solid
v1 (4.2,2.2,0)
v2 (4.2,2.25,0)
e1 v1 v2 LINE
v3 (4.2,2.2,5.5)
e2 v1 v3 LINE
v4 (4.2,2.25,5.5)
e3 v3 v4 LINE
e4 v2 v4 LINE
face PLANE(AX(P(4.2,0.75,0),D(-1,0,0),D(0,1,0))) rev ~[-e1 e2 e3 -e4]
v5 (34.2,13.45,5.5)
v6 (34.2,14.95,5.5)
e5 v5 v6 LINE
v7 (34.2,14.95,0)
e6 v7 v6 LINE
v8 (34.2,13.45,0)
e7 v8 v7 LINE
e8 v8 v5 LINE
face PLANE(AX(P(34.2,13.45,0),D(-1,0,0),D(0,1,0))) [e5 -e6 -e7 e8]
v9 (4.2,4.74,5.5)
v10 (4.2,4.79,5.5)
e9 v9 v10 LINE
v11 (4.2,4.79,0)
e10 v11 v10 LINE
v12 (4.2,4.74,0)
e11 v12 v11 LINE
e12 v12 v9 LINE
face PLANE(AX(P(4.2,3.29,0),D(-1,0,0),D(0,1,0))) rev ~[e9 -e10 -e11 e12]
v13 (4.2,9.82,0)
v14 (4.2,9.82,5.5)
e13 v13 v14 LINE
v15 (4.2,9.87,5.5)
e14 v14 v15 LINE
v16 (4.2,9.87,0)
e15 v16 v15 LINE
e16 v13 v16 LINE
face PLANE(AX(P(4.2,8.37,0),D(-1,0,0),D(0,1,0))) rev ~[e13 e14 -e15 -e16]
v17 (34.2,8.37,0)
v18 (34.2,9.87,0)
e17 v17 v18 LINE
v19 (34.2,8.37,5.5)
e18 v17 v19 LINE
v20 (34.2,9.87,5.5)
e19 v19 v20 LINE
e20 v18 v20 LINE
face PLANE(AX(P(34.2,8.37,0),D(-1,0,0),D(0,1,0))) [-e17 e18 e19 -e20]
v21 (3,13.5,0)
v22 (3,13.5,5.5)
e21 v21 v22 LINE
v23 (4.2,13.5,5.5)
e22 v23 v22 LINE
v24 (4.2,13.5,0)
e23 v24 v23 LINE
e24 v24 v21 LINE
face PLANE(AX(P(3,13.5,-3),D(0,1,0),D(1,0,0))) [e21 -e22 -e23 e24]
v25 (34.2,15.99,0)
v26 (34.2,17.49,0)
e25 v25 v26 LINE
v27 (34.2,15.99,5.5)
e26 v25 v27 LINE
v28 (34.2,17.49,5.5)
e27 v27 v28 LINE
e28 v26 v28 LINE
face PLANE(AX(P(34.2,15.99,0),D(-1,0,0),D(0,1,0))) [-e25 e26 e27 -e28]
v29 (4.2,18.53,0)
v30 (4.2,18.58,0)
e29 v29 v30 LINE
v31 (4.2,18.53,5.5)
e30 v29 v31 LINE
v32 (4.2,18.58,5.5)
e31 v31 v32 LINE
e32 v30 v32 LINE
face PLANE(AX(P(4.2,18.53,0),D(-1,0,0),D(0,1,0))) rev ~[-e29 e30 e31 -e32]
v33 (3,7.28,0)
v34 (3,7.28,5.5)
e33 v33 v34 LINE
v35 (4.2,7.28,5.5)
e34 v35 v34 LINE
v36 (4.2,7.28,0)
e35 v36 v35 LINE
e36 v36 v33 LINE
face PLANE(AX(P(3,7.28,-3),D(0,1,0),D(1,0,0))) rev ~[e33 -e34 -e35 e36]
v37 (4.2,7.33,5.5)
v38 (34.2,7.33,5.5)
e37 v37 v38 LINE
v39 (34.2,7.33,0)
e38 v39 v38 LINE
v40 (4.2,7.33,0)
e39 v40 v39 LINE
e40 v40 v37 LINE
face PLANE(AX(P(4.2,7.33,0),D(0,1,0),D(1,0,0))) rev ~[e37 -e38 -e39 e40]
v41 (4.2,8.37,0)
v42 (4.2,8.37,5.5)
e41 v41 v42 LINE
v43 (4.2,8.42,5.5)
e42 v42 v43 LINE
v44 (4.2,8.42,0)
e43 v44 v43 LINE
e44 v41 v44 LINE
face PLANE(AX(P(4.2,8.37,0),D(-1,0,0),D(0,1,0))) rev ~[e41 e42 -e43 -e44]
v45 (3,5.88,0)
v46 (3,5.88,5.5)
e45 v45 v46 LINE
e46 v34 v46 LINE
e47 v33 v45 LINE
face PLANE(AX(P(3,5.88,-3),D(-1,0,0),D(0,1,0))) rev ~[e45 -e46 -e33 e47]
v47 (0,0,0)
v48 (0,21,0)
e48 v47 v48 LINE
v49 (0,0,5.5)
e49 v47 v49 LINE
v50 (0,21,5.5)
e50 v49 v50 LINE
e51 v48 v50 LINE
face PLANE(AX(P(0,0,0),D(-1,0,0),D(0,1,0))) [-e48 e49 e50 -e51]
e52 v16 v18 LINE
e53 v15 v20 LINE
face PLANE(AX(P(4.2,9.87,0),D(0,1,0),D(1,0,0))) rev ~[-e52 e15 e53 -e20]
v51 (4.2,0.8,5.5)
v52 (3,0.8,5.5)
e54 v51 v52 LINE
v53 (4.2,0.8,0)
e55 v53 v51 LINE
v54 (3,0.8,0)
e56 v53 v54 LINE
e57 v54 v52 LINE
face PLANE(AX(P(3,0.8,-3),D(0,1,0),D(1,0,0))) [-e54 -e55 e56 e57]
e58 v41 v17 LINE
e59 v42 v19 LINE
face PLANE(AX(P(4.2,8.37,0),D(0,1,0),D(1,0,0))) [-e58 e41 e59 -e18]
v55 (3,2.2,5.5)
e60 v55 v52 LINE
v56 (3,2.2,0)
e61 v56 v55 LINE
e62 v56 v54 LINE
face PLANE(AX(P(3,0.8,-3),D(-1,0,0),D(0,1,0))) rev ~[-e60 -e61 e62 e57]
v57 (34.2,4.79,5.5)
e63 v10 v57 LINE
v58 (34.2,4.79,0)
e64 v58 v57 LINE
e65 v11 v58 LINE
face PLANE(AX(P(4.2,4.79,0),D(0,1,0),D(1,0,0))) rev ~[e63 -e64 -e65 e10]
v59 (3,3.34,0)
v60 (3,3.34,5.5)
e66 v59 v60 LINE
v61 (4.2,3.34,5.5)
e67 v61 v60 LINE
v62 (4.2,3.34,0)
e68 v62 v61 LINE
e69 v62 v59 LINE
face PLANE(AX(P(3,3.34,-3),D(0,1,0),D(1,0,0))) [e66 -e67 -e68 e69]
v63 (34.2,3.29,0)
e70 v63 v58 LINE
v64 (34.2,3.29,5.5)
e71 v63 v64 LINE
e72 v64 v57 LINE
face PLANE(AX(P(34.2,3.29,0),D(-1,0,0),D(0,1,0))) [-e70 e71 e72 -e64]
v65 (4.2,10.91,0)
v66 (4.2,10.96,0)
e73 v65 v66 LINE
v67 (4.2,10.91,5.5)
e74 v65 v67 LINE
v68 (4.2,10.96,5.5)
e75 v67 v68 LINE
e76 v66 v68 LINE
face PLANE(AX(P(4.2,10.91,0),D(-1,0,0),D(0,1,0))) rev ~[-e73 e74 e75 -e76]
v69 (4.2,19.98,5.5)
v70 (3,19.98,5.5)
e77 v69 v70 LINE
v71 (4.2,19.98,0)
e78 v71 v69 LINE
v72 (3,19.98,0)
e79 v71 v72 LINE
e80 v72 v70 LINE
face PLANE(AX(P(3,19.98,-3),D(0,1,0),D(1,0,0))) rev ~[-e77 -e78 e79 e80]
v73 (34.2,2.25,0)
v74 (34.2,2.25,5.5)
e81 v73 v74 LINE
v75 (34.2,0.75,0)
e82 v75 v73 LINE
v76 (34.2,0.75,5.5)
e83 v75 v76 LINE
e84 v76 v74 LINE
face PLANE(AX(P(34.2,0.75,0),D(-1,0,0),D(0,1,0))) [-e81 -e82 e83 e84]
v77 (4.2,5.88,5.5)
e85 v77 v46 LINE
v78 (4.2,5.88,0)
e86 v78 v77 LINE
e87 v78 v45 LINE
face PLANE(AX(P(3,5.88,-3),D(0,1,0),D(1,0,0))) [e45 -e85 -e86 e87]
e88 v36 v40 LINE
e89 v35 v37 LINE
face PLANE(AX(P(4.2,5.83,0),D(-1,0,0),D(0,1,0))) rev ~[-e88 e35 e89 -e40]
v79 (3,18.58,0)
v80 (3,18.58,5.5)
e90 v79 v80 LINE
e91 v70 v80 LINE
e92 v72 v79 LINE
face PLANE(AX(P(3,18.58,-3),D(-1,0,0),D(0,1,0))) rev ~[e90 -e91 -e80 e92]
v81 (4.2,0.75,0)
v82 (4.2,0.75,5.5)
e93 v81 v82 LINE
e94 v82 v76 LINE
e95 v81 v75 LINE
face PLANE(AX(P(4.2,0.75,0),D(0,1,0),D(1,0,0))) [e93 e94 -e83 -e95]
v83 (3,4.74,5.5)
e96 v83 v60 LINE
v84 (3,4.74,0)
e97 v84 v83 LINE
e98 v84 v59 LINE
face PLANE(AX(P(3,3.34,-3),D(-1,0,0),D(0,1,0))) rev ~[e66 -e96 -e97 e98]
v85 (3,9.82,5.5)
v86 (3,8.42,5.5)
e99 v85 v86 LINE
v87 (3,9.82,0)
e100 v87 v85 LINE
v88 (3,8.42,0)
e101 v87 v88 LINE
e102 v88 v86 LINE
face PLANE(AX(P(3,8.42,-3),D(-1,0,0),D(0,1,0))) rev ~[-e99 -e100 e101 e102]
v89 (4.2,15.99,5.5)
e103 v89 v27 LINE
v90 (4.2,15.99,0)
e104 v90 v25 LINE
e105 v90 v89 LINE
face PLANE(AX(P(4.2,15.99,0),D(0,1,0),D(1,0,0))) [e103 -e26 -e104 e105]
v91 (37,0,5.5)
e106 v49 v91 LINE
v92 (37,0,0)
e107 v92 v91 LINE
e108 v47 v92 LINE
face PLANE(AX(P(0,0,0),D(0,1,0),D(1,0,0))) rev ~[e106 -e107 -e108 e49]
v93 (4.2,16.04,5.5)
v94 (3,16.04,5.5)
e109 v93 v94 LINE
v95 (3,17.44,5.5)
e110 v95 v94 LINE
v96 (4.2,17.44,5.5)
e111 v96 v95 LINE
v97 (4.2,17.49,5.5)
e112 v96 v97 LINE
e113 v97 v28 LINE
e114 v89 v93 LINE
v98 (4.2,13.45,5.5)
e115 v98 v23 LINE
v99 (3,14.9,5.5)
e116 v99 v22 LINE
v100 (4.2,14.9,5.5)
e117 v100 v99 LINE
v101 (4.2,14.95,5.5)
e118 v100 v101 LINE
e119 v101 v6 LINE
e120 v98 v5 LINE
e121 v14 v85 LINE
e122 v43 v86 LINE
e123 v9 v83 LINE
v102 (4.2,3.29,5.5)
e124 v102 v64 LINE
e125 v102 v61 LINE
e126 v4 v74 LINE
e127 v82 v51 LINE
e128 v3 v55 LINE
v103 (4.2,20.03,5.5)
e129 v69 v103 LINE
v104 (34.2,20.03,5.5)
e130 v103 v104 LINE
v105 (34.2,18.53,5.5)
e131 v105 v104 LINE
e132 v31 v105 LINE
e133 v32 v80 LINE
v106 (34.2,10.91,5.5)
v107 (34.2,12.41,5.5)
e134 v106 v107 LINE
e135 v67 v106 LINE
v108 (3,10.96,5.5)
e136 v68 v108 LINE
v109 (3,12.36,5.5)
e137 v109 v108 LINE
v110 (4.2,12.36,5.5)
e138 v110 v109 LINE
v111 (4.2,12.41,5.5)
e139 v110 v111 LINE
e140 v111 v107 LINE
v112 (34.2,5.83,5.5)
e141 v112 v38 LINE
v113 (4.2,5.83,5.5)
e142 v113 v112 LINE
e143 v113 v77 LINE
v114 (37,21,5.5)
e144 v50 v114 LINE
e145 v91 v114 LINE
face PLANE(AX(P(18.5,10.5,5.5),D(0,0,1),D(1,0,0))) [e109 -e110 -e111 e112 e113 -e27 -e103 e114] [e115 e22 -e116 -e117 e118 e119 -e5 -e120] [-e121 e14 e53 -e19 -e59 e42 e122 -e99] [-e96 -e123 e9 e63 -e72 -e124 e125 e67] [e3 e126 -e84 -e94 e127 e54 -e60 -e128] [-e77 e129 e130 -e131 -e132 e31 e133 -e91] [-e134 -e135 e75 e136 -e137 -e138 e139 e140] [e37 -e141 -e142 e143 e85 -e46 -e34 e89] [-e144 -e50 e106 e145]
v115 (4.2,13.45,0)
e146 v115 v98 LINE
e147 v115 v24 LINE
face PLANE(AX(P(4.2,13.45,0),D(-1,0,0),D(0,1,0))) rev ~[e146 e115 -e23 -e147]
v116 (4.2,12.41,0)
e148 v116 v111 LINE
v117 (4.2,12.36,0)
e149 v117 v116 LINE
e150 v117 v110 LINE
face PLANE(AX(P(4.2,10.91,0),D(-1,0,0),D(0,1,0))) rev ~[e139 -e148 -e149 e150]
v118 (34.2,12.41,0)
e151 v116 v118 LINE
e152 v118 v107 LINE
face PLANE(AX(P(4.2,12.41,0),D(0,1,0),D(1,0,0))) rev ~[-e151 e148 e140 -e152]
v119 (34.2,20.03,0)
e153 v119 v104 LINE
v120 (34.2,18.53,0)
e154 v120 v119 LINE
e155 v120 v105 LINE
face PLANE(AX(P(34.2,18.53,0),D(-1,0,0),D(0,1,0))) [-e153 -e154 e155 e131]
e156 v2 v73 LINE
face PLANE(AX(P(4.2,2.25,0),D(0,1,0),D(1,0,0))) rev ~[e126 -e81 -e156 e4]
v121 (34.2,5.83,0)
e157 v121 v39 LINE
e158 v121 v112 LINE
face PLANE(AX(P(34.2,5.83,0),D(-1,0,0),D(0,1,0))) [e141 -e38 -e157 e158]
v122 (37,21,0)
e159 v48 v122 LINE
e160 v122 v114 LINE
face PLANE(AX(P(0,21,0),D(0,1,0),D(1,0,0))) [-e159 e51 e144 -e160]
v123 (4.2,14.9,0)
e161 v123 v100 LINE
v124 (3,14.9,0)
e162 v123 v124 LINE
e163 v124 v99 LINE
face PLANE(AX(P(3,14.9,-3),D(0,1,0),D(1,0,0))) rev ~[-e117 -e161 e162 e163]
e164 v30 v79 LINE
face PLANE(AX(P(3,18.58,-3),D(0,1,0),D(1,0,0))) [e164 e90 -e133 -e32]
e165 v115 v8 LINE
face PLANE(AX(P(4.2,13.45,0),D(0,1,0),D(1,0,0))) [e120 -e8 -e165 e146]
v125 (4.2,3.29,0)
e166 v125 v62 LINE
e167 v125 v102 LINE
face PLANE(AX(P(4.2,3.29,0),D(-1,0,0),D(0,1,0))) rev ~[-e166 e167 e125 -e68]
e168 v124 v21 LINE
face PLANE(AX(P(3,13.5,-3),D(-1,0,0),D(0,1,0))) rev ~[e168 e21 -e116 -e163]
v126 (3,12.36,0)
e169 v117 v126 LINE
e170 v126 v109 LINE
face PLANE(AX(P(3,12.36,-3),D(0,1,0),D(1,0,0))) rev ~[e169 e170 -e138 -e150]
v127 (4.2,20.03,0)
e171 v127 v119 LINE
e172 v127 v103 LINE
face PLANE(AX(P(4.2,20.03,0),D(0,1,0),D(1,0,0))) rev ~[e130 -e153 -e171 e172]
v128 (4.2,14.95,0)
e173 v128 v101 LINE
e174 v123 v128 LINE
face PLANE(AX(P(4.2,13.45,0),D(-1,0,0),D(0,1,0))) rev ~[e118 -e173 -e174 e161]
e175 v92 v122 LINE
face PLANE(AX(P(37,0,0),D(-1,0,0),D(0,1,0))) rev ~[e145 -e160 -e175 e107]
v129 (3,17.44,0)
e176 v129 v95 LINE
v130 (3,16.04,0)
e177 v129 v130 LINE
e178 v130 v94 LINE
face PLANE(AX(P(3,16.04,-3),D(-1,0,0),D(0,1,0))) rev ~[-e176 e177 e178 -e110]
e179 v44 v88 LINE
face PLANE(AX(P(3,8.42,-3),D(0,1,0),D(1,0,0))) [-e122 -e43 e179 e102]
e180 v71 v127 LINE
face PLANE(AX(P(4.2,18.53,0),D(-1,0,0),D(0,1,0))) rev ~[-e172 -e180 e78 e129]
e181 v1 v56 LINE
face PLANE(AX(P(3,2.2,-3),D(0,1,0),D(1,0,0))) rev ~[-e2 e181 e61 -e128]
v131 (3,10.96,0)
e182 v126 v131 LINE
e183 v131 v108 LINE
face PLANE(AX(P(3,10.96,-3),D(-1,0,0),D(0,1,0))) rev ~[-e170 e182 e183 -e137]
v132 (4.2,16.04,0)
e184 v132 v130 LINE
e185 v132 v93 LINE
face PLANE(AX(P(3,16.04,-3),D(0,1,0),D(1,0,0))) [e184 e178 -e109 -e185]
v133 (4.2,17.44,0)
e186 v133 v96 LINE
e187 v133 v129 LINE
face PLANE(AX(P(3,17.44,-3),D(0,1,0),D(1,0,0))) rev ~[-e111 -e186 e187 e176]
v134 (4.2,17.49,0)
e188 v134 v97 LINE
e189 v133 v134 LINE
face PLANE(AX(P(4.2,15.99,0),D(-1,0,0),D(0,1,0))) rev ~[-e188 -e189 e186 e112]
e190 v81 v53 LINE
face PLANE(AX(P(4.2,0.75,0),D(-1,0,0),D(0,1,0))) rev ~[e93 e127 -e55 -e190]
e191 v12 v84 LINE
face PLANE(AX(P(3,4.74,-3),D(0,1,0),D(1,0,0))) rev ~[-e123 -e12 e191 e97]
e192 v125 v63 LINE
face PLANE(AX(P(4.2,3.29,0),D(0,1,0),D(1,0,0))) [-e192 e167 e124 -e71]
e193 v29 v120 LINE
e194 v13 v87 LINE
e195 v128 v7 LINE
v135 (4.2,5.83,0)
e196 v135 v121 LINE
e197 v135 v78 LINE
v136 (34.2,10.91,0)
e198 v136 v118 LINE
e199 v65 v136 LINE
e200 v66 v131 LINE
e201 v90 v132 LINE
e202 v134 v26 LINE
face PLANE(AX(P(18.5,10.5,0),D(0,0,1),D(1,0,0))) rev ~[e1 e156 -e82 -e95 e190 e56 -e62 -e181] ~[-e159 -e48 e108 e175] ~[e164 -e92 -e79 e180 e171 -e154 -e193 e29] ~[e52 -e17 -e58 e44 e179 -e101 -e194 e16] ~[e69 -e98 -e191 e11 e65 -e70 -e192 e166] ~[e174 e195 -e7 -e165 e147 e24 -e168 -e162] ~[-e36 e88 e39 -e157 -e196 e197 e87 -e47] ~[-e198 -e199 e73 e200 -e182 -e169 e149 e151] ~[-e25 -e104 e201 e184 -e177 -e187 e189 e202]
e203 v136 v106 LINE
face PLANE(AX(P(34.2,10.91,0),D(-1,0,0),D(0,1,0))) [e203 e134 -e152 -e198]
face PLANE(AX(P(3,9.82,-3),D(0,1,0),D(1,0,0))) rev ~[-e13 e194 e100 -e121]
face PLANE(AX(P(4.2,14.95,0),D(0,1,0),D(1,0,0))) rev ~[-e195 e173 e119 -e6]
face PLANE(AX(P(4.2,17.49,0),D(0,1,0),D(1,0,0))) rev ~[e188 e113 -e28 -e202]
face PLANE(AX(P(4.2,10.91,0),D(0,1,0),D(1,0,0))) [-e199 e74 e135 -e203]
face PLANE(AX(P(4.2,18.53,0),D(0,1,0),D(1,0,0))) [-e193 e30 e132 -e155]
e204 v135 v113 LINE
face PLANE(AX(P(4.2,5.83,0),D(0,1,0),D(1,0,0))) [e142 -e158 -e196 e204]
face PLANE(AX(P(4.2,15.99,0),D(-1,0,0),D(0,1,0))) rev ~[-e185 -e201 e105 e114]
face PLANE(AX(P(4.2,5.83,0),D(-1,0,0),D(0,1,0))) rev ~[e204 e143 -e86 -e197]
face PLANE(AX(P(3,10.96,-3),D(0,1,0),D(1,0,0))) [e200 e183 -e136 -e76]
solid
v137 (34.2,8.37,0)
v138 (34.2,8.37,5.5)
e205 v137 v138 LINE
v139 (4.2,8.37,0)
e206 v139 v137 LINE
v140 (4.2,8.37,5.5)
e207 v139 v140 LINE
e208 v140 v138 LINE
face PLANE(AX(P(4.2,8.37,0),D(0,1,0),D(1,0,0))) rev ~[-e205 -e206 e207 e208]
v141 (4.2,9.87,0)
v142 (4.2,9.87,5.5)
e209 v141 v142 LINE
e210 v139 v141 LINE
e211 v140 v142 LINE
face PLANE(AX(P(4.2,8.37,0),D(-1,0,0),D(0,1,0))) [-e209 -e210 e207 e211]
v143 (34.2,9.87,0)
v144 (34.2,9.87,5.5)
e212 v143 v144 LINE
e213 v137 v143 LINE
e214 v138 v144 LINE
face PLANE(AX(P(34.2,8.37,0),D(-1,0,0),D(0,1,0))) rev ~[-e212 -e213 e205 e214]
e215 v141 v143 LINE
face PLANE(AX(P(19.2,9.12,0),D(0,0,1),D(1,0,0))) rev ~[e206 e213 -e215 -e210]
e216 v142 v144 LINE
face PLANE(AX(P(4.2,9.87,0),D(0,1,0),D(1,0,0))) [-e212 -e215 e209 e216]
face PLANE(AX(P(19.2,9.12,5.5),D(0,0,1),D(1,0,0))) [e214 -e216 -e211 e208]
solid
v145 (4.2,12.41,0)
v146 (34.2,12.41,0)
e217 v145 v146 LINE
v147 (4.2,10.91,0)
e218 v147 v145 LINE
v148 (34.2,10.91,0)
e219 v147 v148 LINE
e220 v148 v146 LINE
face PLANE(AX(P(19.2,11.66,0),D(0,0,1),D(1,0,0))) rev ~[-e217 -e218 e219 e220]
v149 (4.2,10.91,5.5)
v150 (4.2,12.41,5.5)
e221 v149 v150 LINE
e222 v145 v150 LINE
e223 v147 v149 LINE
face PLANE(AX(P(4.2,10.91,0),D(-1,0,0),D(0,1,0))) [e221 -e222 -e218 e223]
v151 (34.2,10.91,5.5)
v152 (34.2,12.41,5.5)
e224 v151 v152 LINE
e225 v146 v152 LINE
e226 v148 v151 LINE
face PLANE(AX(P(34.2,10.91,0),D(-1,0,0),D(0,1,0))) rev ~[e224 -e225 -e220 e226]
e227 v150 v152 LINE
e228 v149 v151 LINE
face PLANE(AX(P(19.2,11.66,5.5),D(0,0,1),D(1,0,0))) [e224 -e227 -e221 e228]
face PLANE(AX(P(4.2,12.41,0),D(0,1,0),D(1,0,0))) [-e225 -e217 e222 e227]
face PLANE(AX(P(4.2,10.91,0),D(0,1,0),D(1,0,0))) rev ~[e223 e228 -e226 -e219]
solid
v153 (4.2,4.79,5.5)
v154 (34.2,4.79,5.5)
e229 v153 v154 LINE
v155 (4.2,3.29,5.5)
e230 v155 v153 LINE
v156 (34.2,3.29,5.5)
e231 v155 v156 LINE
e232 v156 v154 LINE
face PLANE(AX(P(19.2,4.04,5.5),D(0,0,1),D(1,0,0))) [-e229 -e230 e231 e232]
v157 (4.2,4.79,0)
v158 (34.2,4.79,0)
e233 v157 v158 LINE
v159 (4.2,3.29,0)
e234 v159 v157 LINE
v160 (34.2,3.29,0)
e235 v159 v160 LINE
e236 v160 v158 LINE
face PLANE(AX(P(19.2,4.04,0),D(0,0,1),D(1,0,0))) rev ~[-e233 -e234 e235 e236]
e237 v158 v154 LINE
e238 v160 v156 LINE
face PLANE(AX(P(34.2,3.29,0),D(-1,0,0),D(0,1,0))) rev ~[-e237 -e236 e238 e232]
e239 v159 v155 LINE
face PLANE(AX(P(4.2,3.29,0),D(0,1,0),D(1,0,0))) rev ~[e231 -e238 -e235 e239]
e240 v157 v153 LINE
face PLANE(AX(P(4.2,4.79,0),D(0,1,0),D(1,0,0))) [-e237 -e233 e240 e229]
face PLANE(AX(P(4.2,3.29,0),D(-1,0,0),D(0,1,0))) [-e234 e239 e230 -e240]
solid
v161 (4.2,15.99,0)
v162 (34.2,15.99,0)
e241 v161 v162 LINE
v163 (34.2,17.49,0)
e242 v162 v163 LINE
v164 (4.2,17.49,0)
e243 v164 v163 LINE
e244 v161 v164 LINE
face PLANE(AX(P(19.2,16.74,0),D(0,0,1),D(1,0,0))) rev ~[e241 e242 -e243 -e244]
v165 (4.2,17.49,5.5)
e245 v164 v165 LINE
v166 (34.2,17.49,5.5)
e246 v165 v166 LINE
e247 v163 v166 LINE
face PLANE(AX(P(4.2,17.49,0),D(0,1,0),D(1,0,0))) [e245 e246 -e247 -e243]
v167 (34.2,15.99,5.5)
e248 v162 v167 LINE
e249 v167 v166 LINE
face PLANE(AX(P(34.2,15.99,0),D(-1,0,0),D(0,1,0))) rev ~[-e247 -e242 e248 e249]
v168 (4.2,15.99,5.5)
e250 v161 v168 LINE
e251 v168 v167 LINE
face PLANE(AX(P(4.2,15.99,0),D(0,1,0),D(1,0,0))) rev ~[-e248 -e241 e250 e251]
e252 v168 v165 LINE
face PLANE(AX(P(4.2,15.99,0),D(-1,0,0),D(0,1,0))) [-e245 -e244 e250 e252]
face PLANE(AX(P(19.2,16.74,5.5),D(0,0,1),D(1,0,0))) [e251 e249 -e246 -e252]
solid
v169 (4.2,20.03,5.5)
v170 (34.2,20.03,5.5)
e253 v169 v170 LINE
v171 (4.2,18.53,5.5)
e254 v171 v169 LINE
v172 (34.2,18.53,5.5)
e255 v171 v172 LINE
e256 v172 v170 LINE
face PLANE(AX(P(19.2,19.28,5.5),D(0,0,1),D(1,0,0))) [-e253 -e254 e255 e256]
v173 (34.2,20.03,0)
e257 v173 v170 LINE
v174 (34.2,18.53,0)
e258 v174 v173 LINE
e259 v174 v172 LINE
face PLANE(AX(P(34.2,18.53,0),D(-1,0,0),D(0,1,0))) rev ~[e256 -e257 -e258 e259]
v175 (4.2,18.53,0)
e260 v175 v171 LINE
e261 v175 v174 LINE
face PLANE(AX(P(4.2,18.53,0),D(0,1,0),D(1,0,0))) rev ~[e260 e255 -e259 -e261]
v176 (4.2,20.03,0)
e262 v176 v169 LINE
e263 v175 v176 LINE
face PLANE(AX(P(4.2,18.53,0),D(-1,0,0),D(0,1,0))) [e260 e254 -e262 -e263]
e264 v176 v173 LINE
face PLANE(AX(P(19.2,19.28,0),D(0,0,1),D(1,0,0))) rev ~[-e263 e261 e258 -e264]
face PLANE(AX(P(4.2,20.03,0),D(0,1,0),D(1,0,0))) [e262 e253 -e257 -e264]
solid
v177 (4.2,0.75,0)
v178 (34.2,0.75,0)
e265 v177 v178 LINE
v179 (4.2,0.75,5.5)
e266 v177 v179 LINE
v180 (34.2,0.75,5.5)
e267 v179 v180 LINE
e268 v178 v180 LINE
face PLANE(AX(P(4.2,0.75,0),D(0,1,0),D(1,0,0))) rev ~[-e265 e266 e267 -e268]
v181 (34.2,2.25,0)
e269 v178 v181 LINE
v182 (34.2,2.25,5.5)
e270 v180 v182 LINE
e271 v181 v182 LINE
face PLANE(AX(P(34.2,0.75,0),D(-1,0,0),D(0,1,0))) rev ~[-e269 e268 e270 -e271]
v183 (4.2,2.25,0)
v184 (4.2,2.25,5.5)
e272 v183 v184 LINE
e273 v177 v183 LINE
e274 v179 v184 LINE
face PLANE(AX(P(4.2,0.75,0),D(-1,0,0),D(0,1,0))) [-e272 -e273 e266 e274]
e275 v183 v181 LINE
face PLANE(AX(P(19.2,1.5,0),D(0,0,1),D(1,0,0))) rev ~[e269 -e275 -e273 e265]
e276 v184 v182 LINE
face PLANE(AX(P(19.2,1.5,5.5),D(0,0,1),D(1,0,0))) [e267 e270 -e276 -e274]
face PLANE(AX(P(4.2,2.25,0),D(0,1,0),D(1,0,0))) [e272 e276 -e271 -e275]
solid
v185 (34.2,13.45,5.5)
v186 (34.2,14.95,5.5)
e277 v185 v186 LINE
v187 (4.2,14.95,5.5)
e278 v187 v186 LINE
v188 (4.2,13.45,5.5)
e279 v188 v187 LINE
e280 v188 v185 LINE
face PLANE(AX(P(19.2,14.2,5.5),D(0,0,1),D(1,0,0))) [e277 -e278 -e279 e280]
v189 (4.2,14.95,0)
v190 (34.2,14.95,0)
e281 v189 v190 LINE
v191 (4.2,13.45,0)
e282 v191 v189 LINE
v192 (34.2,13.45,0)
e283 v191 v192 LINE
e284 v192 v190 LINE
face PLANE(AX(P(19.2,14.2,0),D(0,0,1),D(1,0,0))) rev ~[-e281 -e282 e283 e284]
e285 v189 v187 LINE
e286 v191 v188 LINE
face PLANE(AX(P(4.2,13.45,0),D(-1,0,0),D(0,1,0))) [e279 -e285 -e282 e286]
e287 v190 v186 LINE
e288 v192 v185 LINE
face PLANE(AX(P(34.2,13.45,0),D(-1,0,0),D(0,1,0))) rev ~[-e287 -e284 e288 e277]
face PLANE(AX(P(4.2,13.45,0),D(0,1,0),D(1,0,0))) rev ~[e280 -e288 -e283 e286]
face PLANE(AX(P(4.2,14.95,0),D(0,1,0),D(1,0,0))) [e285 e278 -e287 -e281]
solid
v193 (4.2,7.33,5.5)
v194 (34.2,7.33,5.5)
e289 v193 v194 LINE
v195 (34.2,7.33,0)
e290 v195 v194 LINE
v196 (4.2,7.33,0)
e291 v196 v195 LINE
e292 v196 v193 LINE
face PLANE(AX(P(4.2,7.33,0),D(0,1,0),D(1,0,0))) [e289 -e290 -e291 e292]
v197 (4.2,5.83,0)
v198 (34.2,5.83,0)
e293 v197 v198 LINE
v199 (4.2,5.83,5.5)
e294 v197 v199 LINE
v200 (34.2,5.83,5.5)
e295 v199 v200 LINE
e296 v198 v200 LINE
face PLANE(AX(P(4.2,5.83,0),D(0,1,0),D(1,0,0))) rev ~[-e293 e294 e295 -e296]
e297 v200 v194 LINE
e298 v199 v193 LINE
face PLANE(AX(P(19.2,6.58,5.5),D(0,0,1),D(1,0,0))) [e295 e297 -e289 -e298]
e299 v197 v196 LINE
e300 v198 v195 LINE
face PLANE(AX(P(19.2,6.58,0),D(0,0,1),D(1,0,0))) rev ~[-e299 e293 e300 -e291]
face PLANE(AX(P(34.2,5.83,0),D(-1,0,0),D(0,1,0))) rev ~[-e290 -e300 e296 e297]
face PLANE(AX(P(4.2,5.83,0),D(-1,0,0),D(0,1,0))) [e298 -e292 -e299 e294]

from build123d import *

# Parameters (mm, degrees)
BOX010_W     = 30
BOX010_H     = 1.5
BOX010_DEPTH = 5.5
BOX011_W     = 30
BOX011_H     = 1.5
BOX011_DEPTH = 5.5
BOX012_W     = 30
BOX012_H     = 1.5
BOX012_DEPTH = 5.5
BOX013_W     = 30
BOX013_H     = 1.5
BOX013_DEPTH = 5.5
BOX014_W     = 30
BOX014_H     = 1.5
BOX014_DEPTH = 5.5
BOX015_W     = 30
BOX015_H     = 1.5
BOX015_DEPTH = 5.5
BOX016_W     = 30
BOX016_H     = 1.5
BOX016_DEPTH = 5.5
BOX009_W     = 30
BOX009_H     = 1.5
BOX009_DEPTH = 5.5
BOX018_W     = 30
BOX018_H     = 1.5
BOX018_DEPTH = 5.5
BOX019_W     = 30
BOX019_H     = 1.5
BOX019_DEPTH = 5.5
BOX020_W     = 30
BOX020_H     = 1.5
BOX020_DEPTH = 5.5
BOX021_W     = 30
BOX021_H     = 1.5
BOX021_DEPTH = 5.5
BOX022_W     = 30
BOX022_H     = 1.5
BOX022_DEPTH = 5.5
BOX023_W     = 30
BOX023_H     = 1.5
BOX023_DEPTH = 5.5
BOX024_W     = 30
BOX024_H     = 1.5
BOX024_DEPTH = 5.5
BOX017_W     = 30
BOX017_H     = 1.5
BOX017_DEPTH = 5.5
BOX002_W     = 1.6
BOX002_H     = 1.4
BOX002_DEPTH = 10
BOX003_W     = 1.6
BOX003_H     = 1.4
BOX003_DEPTH = 10
BOX004_W     = 1.6
BOX004_H     = 1.4
BOX004_DEPTH = 10
BOX005_W     = 1.6
BOX005_H     = 1.4
BOX005_DEPTH = 10
BOX006_W     = 1.6
BOX006_H     = 1.4
BOX006_DEPTH = 10
BOX007_W     = 1.6
BOX007_H     = 1.4
BOX007_DEPTH = 10
BOX008_W     = 1.6
BOX008_H     = 1.4
BOX008_DEPTH = 10
BOX001_W     = 1.6
BOX001_H     = 1.4
BOX001_DEPTH = 10
BOX_W        = 37
BOX_H        = 21
BOX_DEPTH    = 5.5


with BuildPart() as cube010:
    # Box010 → Box010 (new body)
    with BuildSketch(Plane(origin=(4.2, 3.29, 0), x_dir=(1, 0, 0), z_dir=(0, 0, 1))):
        with Locations((15, 0.75)):
            Rectangle(BOX010_W, BOX010_H)
    extrude(amount=BOX010_DEPTH)


with BuildPart() as cube011:
    # Box011 → Box011 (new body)
    with BuildSketch(Plane(origin=(4.2, 5.83, 0), x_dir=(1, 0, 0), z_dir=(0, 0, 1))):
        with Locations((15, 0.75)):
            Rectangle(BOX011_W, BOX011_H)
    extrude(amount=BOX011_DEPTH)


with BuildPart() as cube012:
    # Box012 → Box012 (new body)
    with BuildSketch(Plane(origin=(4.2, 8.37, 0), x_dir=(1, 0, 0), z_dir=(0, 0, 1))):
        with Locations((15, 0.75)):
            Rectangle(BOX012_W, BOX012_H)
    extrude(amount=BOX012_DEPTH)


with BuildPart() as cube013:
    # Box013 → Box013 (new body)
    with BuildSketch(Plane(origin=(4.2, 10.91, 0), x_dir=(1, 0, 0), z_dir=(0, 0, 1))):
        with Locations((15, 0.75)):
            Rectangle(BOX013_W, BOX013_H)
    extrude(amount=BOX013_DEPTH)


with BuildPart() as cube014:
    # Box014 → Box014 (new body)
    with BuildSketch(Plane(origin=(4.2, 13.45, 0), x_dir=(1, 0, 0), z_dir=(0, 0, 1))):
        with Locations((15, 0.75)):
            Rectangle(BOX014_W, BOX014_H)
    extrude(amount=BOX014_DEPTH)


with BuildPart() as cube015:
    # Box015 → Box015 (new body)
    with BuildSketch(Plane(origin=(4.2, 15.99, 0), x_dir=(1, 0, 0), z_dir=(0, 0, 1))):
        with Locations((15, 0.75)):
            Rectangle(BOX015_W, BOX015_H)
    extrude(amount=BOX015_DEPTH)


with BuildPart() as cube016:
    # Box016 → Box016 (new body)
    with BuildSketch(Plane(origin=(4.2, 18.53, 0), x_dir=(1, 0, 0), z_dir=(0, 0, 1))):
        with Locations((15, 0.75)):
            Rectangle(BOX016_W, BOX016_H)
    extrude(amount=BOX016_DEPTH)


with BuildPart() as conducting_filament:
    # Box009 → Box009 (new body)
    with BuildSketch(Plane(origin=(4.2, 0.75, 0), x_dir=(1, 0, 0), z_dir=(0, 0, 1))):
        with Locations((15, 0.75)):
            Rectangle(BOX009_W, BOX009_H)
    extrude(amount=BOX009_DEPTH)

    # Fusion: union Cube010, Cube011, Cube012, Cube013, Cube014, Cube015, Cube016
    add(cube010.part)
    add(cube011.part)
    add(cube012.part)
    add(cube013.part)
    add(cube014.part)
    add(cube015.part)
    add(cube016.part)


with BuildPart() as cube018:
    # Box018 → Box018 (new body)
    with BuildSketch(Plane(origin=(4.2, 10.91, 0), x_dir=(1, 0, 0), z_dir=(0, 0, 1))):
        with Locations((15, 0.75)):
            Rectangle(BOX018_W, BOX018_H)
    extrude(amount=BOX018_DEPTH)


with BuildPart() as cube019:
    # Box019 → Box019 (new body)
    with BuildSketch(Plane(origin=(4.2, 3.29, 0), x_dir=(1, 0, 0), z_dir=(0, 0, 1))):
        with Locations((15, 0.75)):
            Rectangle(BOX019_W, BOX019_H)
    extrude(amount=BOX019_DEPTH)


with BuildPart() as cube020:
    # Box020 → Box020 (new body)
    with BuildSketch(Plane(origin=(4.2, 5.83, 0), x_dir=(1, 0, 0), z_dir=(0, 0, 1))):
        with Locations((15, 0.75)):
            Rectangle(BOX020_W, BOX020_H)
    extrude(amount=BOX020_DEPTH)


with BuildPart() as cube021:
    # Box021 → Box021 (new body)
    with BuildSketch(Plane(origin=(4.2, 18.53, 0), x_dir=(1, 0, 0), z_dir=(0, 0, 1))):
        with Locations((15, 0.75)):
            Rectangle(BOX021_W, BOX021_H)
    extrude(amount=BOX021_DEPTH)


with BuildPart() as cube022:
    # Box022 → Box022 (new body)
    with BuildSketch(Plane(origin=(4.2, 15.99, 0), x_dir=(1, 0, 0), z_dir=(0, 0, 1))):
        with Locations((15, 0.75)):
            Rectangle(BOX022_W, BOX022_H)
    extrude(amount=BOX022_DEPTH)


with BuildPart() as cube023:
    # Box023 → Box023 (new body)
    with BuildSketch(Plane(origin=(4.2, 8.37, 0), x_dir=(1, 0, 0), z_dir=(0, 0, 1))):
        with Locations((15, 0.75)):
            Rectangle(BOX023_W, BOX023_H)
    extrude(amount=BOX023_DEPTH)


with BuildPart() as cube024:
    # Box024 → Box024 (new body)
    with BuildSketch(Plane(origin=(4.2, 13.45, 0), x_dir=(1, 0, 0), z_dir=(0, 0, 1))):
        with Locations((15, 0.75)):
            Rectangle(BOX024_W, BOX024_H)
    extrude(amount=BOX024_DEPTH)


with BuildPart() as fusion002:
    # Box017 → Box017 (new body)
    with BuildSketch(Plane(origin=(4.2, 0.75, 0), x_dir=(1, 0, 0), z_dir=(0, 0, 1))):
        with Locations((15, 0.75)):
            Rectangle(BOX017_W, BOX017_H)
    extrude(amount=BOX017_DEPTH)

    # Fusion002: union Cube018, Cube019, Cube020, Cube021, Cube022, Cube023, Cube024
    add(cube018.part)
    add(cube019.part)
    add(cube020.part)
    add(cube021.part)
    add(cube022.part)
    add(cube023.part)
    add(cube024.part)


with BuildPart() as cube002:
    # Box002 → Box002 (new body)
    with BuildSketch(Plane(origin=(3, 3.34, -3), x_dir=(1, 0, 0), z_dir=(0, 0, 1))):
        with Locations((0.8, 0.7)):
            Rectangle(BOX002_W, BOX002_H)
    extrude(amount=BOX002_DEPTH)


with BuildPart() as cube003:
    # Box003 → Box003 (new body)
    with BuildSketch(Plane(origin=(3, 5.88, -3), x_dir=(1, 0, 0), z_dir=(0, 0, 1))):
        with Locations((0.8, 0.7)):
            Rectangle(BOX003_W, BOX003_H)
    extrude(amount=BOX003_DEPTH)


with BuildPart() as cube004:
    # Box004 → Box004 (new body)
    with BuildSketch(Plane(origin=(3, 8.42, -3), x_dir=(1, 0, 0), z_dir=(0, 0, 1))):
        with Locations((0.8, 0.7)):
            Rectangle(BOX004_W, BOX004_H)
    extrude(amount=BOX004_DEPTH)


with BuildPart() as cube005:
    # Box005 → Box005 (new body)
    with BuildSketch(Plane(origin=(3, 10.96, -3), x_dir=(1, 0, 0), z_dir=(0, 0, 1))):
        with Locations((0.8, 0.7)):
            Rectangle(BOX005_W, BOX005_H)
    extrude(amount=BOX005_DEPTH)


with BuildPart() as cube006:
    # Box006 → Box006 (new body)
    with BuildSketch(Plane(origin=(3, 13.5, -3), x_dir=(1, 0, 0), z_dir=(0, 0, 1))):
        with Locations((0.8, 0.7)):
            Rectangle(BOX006_W, BOX006_H)
    extrude(amount=BOX006_DEPTH)


with BuildPart() as cube007:
    # Box007 → Box007 (new body)
    with BuildSketch(Plane(origin=(3, 16.04, -3), x_dir=(1, 0, 0), z_dir=(0, 0, 1))):
        with Locations((0.8, 0.7)):
            Rectangle(BOX007_W, BOX007_H)
    extrude(amount=BOX007_DEPTH)


with BuildPart() as cube008:
    # Box008 → Box008 (new body)
    with BuildSketch(Plane(origin=(3, 18.58, -3), x_dir=(1, 0, 0), z_dir=(0, 0, 1))):
        with Locations((0.8, 0.7)):
            Rectangle(BOX008_W, BOX008_H)
    extrude(amount=BOX008_DEPTH)


with BuildPart() as fusion001:
    # Box001 → Box001 (new body)
    with BuildSketch(Plane(origin=(3, 0.8, -3), x_dir=(1, 0, 0), z_dir=(0, 0, 1))):
        with Locations((0.8, 0.7)):
            Rectangle(BOX001_W, BOX001_H)
    extrude(amount=BOX001_DEPTH)

    # Fusion001: union Cube002, Cube003, Cube004, Cube005, Cube006, Cube007, Cube008
    add(cube002.part)
    add(cube003.part)
    add(cube004.part)
    add(cube005.part)
    add(cube006.part)
    add(cube007.part)
    add(cube008.part)


with BuildPart() as main_body:
    # Box → Box (new body)
    with BuildSketch(Plane.XY):
        with Locations((18.5, 10.5)):
            Rectangle(BOX_W, BOX_H)
    extrude(amount=BOX_DEPTH)

    # Cut: cut Fusion001
    add(fusion001.part, mode=Mode.SUBTRACT)

    # Cut001: cut Fusion002
    add(fusion002.part, mode=Mode.SUBTRACT)


solid = Compound([conducting_filament.part, main_body.part])
